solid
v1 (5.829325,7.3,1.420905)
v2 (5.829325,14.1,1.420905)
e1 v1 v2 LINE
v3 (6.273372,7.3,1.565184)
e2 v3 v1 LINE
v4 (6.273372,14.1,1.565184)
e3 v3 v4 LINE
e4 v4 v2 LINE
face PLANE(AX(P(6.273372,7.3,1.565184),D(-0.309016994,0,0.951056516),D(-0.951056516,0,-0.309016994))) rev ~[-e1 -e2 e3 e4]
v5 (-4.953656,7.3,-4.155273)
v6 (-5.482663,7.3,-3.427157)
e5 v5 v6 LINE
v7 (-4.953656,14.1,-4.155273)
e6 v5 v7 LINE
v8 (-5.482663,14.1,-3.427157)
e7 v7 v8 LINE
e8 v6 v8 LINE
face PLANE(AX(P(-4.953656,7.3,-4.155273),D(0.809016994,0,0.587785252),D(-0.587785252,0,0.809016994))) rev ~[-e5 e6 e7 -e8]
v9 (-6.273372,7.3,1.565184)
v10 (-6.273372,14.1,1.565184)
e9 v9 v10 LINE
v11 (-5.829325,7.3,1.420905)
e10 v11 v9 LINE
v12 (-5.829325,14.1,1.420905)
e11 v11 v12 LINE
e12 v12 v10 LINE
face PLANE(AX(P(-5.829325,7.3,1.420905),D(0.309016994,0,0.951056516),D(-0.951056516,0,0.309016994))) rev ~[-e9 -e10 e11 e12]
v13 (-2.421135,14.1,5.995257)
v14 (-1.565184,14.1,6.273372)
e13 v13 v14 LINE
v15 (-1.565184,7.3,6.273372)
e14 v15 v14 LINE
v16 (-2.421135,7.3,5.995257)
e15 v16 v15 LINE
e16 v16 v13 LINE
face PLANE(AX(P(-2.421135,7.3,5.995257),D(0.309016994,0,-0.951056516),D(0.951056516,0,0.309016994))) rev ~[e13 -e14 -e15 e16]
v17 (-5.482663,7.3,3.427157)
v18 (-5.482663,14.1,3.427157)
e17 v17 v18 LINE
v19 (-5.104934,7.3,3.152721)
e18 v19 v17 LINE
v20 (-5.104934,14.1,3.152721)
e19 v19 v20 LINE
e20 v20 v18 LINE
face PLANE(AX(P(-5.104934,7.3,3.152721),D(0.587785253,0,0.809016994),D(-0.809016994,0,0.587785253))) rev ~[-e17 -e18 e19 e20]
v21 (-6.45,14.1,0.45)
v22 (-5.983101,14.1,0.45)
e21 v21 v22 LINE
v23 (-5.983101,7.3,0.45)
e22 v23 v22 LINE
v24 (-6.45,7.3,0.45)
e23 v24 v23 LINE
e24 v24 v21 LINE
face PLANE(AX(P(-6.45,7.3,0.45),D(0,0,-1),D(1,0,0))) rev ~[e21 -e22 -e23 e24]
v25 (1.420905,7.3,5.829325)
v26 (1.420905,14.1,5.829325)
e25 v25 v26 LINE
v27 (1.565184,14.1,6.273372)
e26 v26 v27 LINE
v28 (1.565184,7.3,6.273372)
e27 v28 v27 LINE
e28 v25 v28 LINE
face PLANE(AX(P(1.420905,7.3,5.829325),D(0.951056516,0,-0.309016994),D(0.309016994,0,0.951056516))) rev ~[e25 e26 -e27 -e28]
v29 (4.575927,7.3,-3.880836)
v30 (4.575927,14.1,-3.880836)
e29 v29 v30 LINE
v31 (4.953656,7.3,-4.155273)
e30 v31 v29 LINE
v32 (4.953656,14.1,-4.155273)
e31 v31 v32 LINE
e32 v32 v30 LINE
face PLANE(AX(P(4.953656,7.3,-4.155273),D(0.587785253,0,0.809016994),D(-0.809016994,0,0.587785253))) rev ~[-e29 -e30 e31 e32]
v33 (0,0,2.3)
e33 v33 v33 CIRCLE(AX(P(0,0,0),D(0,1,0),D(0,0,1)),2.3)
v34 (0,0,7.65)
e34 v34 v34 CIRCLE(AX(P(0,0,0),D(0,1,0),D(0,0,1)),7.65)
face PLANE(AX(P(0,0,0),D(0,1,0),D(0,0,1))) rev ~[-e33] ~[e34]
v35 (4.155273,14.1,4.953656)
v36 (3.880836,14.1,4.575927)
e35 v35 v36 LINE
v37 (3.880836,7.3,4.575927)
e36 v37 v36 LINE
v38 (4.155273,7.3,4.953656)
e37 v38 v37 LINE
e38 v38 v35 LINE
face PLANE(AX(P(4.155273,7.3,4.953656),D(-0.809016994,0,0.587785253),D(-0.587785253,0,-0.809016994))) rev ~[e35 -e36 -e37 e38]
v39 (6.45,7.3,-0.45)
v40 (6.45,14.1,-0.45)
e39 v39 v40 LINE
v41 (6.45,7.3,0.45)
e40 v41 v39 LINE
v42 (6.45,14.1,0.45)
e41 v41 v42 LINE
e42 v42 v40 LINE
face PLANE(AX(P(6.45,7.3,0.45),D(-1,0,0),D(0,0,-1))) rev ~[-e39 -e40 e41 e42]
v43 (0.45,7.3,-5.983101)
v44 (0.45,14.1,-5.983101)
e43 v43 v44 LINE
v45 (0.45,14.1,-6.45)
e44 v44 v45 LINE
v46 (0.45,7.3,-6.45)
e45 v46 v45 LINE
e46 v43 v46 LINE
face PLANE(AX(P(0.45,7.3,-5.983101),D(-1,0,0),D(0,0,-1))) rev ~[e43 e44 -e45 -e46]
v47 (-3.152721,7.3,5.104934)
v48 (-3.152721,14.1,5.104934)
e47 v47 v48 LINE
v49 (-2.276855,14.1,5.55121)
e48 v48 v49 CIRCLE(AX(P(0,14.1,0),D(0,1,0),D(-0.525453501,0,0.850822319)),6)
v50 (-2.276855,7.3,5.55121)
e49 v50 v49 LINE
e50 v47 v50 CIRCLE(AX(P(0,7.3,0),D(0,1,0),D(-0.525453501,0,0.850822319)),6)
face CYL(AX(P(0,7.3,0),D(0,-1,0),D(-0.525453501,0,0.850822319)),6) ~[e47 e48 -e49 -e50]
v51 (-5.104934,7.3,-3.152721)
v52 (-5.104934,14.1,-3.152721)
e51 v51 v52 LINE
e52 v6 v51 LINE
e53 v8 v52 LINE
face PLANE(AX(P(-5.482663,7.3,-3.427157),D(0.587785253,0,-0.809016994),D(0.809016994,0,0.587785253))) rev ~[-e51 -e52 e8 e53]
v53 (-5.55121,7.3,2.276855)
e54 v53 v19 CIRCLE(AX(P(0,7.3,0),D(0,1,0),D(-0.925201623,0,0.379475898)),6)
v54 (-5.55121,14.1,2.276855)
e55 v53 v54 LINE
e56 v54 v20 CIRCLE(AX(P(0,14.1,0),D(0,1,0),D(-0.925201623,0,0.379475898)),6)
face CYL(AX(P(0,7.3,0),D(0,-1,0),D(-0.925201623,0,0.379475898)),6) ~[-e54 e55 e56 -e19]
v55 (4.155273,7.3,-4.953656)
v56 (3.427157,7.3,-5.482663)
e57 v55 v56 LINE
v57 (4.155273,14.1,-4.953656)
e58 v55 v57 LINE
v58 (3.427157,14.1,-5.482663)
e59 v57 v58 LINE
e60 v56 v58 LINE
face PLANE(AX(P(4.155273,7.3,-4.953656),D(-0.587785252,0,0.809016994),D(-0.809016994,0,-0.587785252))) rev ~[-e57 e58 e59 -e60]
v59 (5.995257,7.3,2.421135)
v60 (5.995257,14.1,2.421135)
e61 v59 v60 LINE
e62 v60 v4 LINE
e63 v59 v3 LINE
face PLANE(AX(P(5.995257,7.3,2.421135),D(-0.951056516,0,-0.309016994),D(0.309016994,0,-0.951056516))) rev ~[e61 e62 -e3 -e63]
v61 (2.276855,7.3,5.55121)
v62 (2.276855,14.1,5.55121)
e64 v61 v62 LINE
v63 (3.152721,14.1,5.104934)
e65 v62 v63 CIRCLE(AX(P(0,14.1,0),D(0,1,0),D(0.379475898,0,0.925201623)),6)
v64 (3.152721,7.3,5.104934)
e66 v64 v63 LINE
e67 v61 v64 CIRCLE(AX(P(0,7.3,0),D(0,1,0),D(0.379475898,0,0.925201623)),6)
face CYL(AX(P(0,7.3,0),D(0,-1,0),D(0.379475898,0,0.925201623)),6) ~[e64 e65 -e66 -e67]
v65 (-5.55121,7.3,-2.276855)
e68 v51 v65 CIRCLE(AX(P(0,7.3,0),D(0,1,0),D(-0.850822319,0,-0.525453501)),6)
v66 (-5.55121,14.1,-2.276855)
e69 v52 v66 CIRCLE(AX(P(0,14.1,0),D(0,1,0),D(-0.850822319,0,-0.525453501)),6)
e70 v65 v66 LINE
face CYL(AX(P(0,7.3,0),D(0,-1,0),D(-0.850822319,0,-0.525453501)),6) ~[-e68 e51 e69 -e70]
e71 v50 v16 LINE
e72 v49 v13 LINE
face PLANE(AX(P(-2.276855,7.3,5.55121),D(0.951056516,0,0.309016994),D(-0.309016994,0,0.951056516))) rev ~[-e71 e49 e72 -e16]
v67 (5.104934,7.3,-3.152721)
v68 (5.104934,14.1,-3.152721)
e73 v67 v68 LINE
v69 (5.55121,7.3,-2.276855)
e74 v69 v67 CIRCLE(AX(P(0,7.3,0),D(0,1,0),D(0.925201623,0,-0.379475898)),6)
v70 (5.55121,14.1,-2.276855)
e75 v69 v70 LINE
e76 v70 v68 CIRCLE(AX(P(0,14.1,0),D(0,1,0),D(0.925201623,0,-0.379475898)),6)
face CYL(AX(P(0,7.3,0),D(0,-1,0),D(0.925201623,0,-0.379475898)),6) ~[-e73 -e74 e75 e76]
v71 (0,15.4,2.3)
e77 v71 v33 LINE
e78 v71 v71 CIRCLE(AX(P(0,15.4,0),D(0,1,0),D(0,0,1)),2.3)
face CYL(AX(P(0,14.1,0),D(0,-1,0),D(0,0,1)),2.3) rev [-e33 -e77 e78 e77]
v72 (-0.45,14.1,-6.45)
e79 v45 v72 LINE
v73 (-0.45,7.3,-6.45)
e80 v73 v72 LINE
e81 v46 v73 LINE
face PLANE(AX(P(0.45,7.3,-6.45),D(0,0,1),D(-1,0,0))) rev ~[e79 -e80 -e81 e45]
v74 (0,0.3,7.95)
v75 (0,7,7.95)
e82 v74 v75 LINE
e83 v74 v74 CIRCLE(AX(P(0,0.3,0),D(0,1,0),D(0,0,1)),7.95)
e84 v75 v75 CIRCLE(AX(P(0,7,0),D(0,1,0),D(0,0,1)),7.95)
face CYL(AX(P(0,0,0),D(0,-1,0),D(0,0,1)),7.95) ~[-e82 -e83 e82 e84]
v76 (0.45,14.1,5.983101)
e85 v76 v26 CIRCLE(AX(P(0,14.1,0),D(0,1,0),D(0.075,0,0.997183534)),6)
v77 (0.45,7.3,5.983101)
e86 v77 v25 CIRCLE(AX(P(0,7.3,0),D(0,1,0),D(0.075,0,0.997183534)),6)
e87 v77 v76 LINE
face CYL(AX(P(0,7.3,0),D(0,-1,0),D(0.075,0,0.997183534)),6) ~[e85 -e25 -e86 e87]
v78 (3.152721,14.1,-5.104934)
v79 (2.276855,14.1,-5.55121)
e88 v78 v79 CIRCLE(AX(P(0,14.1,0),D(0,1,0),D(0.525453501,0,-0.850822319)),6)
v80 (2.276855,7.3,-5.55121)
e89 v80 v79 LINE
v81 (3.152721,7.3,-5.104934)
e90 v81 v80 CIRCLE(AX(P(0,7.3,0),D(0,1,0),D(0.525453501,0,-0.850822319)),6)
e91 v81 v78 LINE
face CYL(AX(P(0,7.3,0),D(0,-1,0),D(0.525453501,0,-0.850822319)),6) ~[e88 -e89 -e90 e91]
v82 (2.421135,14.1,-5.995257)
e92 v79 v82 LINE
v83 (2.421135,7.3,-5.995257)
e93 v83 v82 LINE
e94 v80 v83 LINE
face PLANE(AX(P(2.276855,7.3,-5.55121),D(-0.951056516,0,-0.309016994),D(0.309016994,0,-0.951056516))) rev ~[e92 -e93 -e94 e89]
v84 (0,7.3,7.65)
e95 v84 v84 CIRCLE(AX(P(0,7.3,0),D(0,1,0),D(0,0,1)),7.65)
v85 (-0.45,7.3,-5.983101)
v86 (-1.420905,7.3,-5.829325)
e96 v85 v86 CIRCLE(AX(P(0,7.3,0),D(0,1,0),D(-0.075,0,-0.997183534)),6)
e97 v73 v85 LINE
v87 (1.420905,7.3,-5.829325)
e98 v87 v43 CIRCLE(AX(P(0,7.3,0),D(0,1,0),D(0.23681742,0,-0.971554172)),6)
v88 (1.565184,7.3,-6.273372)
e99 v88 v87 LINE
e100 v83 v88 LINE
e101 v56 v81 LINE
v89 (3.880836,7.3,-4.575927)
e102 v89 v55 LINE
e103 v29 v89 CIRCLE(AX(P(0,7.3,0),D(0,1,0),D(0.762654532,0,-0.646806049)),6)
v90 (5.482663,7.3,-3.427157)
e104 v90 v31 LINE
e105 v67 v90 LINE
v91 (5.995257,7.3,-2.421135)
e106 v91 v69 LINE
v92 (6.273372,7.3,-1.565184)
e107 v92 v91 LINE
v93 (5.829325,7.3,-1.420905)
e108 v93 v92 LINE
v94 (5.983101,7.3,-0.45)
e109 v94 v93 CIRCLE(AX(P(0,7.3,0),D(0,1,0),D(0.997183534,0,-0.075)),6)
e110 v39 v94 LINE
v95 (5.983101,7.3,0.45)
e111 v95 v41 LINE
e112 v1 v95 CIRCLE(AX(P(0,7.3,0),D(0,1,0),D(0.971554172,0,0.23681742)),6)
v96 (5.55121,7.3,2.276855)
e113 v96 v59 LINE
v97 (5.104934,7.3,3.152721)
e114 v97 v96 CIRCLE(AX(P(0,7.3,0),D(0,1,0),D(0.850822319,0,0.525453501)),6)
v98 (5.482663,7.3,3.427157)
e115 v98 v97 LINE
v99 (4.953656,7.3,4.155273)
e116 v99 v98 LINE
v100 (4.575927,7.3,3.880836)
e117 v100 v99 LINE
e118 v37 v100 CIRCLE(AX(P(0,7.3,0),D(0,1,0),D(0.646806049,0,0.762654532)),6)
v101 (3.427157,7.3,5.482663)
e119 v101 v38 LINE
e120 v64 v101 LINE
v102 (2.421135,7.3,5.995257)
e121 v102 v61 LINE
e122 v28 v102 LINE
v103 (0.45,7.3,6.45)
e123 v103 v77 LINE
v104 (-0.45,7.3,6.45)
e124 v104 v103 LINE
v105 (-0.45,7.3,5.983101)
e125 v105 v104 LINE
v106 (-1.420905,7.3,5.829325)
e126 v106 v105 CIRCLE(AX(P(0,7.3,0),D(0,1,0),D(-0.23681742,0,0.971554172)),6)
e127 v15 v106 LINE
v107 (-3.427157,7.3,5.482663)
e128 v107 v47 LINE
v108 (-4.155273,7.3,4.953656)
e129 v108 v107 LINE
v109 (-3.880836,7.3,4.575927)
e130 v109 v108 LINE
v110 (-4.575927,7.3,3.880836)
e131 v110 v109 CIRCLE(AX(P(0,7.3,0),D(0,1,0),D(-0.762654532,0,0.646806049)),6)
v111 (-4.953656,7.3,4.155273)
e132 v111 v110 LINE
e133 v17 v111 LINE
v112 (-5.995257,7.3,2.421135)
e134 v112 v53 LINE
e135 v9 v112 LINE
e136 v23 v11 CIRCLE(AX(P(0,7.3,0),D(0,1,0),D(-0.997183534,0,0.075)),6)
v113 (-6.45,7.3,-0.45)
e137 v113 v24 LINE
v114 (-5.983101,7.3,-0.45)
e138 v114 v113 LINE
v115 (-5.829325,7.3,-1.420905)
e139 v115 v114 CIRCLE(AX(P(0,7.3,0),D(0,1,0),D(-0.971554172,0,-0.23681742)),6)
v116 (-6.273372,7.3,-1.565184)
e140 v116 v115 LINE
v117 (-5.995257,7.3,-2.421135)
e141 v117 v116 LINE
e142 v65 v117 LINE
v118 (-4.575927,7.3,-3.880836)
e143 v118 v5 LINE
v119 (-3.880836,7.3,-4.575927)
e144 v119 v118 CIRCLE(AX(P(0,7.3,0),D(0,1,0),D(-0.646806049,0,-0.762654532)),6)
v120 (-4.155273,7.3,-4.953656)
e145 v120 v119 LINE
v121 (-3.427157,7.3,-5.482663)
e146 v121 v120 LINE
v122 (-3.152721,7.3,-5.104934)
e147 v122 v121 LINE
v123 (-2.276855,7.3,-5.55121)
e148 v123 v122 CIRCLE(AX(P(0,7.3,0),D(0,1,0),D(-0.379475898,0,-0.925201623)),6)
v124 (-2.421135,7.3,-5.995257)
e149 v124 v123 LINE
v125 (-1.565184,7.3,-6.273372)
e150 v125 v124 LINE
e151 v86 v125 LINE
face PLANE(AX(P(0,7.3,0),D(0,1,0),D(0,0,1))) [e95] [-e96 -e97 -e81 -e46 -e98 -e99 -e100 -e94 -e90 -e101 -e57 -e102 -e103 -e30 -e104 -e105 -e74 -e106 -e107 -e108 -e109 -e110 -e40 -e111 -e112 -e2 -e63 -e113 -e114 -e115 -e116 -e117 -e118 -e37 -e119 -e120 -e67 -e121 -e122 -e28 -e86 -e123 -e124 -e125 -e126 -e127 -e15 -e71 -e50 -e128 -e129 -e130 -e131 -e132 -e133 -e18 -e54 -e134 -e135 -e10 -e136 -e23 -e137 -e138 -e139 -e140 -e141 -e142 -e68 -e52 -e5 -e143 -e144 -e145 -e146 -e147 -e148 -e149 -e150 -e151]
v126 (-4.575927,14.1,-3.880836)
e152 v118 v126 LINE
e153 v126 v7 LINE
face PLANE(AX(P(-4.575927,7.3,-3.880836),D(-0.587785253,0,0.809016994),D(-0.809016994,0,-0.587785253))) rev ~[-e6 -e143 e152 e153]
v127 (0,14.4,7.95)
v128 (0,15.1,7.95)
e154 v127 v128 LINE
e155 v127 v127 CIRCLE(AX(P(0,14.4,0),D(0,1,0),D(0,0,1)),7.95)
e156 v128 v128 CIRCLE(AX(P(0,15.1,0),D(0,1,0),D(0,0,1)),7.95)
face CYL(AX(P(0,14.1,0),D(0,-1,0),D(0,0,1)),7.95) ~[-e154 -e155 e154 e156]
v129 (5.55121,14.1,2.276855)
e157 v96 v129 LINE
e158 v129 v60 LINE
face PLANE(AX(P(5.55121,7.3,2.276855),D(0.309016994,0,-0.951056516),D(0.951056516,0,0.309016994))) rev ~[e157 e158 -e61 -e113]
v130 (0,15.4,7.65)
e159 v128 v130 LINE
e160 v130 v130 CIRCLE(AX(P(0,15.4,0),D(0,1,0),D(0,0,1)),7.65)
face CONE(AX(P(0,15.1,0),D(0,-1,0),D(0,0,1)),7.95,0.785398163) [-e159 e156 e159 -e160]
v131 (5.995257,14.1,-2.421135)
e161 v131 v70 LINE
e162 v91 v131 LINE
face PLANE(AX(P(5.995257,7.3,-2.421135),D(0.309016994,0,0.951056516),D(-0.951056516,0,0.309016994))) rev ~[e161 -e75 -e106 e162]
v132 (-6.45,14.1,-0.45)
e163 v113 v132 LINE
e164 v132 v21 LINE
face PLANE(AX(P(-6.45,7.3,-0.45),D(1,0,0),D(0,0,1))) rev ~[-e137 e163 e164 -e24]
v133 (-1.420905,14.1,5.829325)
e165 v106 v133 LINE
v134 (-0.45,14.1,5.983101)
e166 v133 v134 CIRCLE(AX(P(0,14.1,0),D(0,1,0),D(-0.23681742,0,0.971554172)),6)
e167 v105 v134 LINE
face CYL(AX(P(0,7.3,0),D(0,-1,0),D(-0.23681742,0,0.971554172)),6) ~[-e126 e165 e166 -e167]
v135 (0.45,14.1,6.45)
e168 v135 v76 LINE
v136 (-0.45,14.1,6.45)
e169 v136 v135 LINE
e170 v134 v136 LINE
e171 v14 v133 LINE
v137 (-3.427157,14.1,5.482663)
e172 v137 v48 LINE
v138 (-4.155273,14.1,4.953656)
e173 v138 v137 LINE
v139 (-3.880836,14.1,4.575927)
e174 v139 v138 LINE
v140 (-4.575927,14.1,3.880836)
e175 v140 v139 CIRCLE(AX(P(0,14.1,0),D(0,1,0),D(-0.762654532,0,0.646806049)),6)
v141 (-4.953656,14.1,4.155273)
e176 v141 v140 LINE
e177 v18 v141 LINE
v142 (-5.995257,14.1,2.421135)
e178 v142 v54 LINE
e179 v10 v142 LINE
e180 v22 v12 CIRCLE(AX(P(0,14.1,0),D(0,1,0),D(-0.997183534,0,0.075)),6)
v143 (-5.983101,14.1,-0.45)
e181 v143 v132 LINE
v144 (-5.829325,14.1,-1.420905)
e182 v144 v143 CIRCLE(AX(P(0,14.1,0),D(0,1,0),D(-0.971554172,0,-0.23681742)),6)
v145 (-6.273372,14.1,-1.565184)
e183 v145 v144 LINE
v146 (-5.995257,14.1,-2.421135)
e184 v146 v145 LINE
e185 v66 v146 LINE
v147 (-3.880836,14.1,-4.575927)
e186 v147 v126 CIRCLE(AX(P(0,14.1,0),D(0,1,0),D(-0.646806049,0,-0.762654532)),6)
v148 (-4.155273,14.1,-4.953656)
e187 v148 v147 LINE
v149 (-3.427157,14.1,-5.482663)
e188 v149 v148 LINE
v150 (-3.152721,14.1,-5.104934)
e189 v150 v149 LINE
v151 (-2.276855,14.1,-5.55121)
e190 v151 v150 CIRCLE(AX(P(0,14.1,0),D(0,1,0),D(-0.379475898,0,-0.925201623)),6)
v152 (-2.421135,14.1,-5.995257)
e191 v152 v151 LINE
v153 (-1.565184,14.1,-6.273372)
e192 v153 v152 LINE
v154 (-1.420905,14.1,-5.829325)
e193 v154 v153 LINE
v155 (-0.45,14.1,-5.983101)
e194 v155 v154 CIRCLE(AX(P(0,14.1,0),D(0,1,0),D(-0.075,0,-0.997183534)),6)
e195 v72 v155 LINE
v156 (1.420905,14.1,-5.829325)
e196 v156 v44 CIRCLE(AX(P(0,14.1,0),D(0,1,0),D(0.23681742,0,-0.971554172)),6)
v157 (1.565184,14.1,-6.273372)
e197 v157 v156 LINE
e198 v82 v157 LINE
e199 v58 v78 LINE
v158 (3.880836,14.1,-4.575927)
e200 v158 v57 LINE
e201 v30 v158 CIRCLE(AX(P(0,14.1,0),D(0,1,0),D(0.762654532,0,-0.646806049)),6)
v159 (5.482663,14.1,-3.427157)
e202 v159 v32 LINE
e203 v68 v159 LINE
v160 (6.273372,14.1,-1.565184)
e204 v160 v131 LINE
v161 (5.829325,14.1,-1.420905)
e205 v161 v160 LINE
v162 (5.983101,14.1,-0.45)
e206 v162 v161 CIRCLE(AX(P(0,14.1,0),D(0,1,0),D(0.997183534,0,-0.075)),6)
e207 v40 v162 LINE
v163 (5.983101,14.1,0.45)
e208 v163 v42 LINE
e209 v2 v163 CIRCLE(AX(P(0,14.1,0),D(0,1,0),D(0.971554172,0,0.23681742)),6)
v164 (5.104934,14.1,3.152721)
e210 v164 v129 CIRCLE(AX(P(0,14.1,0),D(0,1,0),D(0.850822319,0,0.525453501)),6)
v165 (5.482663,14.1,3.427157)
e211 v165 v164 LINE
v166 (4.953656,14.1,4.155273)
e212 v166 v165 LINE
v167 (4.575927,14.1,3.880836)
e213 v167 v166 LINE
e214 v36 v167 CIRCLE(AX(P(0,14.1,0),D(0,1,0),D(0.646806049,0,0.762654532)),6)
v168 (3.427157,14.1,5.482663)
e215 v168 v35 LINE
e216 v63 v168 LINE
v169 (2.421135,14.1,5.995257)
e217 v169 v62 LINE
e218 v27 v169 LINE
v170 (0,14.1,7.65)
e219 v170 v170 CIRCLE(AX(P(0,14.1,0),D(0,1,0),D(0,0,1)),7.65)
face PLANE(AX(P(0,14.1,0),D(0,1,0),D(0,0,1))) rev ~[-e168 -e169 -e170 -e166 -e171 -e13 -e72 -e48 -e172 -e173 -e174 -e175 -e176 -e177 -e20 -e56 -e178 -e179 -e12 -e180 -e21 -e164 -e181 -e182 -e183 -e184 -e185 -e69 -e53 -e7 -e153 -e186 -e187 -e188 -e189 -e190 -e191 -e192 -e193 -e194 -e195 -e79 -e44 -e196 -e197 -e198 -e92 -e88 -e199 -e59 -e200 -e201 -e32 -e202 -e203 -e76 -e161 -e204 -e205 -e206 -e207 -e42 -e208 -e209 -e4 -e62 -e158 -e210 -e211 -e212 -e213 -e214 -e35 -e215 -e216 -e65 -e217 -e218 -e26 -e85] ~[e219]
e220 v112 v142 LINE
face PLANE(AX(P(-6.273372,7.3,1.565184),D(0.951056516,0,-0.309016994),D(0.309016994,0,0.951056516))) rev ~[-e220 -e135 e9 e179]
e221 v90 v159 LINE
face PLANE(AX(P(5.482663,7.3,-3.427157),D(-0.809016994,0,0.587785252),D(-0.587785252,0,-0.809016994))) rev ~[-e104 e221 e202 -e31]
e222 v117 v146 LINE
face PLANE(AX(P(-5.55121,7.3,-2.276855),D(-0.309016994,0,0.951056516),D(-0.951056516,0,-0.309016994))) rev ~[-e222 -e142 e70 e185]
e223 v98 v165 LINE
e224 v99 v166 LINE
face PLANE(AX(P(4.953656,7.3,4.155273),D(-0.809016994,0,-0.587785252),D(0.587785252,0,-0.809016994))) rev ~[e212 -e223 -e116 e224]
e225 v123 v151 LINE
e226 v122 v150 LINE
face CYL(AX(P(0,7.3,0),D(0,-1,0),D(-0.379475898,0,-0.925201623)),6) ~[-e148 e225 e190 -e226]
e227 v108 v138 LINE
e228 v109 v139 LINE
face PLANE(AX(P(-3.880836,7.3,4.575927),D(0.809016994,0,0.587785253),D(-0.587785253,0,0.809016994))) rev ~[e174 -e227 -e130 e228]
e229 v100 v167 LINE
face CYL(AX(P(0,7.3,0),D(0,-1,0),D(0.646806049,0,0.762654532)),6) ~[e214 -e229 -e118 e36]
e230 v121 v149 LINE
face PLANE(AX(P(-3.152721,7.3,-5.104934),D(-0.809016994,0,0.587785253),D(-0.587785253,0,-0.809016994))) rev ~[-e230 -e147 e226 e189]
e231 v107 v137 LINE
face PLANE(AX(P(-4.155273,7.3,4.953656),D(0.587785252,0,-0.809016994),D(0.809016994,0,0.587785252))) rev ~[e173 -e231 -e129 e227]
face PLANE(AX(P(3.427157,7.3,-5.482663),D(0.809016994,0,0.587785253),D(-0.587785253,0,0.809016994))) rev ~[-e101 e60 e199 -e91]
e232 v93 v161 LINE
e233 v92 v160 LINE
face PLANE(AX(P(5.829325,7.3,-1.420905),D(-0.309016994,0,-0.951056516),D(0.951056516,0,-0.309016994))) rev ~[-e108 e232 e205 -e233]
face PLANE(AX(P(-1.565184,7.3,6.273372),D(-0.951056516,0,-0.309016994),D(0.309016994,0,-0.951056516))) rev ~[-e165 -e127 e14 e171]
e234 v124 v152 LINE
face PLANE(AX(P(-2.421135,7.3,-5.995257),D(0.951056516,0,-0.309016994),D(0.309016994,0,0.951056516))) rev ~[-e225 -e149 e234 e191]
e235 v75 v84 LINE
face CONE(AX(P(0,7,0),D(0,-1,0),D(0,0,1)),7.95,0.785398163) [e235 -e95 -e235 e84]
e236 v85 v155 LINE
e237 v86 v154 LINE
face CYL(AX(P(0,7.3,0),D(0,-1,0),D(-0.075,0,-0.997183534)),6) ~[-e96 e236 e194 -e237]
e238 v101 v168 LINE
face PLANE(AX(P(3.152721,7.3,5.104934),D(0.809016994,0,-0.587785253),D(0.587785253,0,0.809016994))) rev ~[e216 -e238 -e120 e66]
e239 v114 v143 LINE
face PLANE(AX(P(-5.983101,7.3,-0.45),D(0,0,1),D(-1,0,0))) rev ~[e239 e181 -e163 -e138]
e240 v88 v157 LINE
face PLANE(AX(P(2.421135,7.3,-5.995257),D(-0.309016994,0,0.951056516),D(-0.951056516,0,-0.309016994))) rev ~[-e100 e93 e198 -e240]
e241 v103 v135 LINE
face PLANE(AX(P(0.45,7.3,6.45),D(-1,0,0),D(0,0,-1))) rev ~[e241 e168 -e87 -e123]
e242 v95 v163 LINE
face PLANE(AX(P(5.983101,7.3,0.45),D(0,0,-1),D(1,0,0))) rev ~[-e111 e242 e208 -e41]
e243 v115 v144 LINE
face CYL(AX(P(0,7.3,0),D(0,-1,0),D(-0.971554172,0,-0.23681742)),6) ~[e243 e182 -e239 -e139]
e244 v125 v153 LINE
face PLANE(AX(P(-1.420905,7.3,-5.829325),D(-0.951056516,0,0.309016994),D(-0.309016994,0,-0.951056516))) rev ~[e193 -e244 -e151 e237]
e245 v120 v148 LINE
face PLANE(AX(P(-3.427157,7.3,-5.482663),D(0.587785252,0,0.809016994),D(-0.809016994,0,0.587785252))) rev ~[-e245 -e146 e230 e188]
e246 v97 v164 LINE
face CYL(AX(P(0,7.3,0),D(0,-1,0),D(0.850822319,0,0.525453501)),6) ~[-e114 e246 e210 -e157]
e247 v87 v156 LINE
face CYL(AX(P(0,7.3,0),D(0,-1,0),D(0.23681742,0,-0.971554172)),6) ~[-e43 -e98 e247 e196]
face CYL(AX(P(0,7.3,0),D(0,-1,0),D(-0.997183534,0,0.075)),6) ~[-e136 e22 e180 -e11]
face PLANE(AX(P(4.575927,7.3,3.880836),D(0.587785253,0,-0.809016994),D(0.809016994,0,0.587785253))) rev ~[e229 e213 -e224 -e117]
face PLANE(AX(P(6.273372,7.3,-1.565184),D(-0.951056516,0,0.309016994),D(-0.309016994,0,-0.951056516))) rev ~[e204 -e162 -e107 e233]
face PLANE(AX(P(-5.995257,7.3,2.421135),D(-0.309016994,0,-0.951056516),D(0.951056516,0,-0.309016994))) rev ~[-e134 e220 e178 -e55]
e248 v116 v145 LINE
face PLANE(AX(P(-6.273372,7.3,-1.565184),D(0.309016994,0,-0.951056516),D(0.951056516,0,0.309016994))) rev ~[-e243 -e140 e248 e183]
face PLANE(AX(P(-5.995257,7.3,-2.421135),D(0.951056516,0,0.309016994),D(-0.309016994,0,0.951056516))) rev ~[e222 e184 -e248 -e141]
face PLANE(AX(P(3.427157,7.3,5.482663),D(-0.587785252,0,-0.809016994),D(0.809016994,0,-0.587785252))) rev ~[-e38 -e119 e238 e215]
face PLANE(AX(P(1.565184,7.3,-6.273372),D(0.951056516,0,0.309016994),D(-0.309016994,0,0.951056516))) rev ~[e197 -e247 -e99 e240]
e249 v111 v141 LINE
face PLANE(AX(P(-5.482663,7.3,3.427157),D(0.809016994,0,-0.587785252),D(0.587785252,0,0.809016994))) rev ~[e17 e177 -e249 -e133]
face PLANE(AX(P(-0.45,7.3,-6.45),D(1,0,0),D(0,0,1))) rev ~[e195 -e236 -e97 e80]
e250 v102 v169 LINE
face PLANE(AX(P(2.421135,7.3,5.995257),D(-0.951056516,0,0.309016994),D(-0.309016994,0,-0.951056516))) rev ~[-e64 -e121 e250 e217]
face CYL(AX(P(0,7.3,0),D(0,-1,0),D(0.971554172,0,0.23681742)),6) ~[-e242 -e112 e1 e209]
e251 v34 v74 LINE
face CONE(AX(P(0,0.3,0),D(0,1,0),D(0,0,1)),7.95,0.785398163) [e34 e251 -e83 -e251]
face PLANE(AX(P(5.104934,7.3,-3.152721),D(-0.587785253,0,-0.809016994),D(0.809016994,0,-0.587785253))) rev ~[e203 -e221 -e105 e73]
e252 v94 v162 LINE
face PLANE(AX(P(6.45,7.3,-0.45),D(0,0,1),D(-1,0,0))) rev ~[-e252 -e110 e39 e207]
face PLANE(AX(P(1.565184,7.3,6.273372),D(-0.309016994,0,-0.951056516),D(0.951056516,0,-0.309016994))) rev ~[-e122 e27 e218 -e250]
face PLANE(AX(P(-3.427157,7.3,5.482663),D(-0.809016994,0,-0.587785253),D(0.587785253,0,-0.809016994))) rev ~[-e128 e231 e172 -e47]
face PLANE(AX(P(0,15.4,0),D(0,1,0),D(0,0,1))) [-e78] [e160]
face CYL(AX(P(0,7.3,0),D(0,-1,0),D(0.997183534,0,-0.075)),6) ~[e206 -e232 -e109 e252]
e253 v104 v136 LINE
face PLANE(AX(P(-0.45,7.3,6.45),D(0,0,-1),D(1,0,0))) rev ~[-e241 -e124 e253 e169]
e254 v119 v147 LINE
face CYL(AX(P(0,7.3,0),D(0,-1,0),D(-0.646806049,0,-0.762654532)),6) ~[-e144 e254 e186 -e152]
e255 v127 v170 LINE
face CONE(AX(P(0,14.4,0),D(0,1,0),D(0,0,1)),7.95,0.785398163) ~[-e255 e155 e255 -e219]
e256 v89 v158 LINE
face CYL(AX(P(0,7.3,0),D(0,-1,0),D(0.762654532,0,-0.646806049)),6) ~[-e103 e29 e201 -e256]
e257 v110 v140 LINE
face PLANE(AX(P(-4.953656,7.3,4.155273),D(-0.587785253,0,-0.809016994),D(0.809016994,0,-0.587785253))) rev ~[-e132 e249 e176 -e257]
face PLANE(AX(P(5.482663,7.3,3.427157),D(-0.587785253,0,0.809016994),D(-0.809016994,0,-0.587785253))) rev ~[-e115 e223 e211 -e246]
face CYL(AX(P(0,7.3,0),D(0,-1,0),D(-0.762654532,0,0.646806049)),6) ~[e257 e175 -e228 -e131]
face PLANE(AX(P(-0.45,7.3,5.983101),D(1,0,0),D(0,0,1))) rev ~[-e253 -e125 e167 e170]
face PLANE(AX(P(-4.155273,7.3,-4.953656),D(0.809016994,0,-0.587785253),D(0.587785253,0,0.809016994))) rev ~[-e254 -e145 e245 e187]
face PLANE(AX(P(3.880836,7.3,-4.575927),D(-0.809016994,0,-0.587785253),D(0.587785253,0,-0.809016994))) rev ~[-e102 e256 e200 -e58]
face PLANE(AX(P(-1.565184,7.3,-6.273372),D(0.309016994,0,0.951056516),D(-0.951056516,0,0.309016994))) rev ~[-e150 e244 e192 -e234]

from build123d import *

# Parameters (mm, degrees)
SKETCH1_R           = 7.95
SKETCH1_R_2         = 2.3
BOSS_EXTRUDE1_DEPTH = 7.3
SKETCH2_R           = 2.3
BOSS_EXTRUDE2_DEPTH = 6.8
SKETCH3_R           = 7.95
SKETCH3_R_2         = 2.3
BOSS_EXTRUDE3_DEPTH = 1.3
CHAMFER1_SIZE       = 0.3


with BuildPart() as part:
    # Sketch1 → Boss-Extrude1 (new body)
    with BuildSketch(Plane(origin=(0, 0, 0), x_dir=(1, 0, 0), z_dir=(0, 1, 0))):
        with Locations(Location((0, 0, 0), (0, 0, 270))):
            Circle(SKETCH1_R)
        with Locations(Location((0, 0, 0), (0, 0, 270))):
            Circle(SKETCH1_R_2, mode=Mode.SUBTRACT)
    extrude(amount=BOSS_EXTRUDE1_DEPTH)

    # Sketch2 → Boss-Extrude2 (add)
    with BuildSketch(Plane(origin=(0, 7.3, 0), x_dir=(1, 0, 0), z_dir=(0, 1, 0))):
        with BuildLine():
            Line((1.565184181, 6.273372178), (1.420904518, 5.829325034))
            ThreePointArc((1.420904518, 5.829325034), (0.93860679, 5.926130044), (0.45, 5.983101203))
            Line((0.45, 5.983101203), (0.45, 6.45))
            Line((0.45, 6.45), (-0.45, 6.45))
            Line((-0.45, 6.45), (-0.45, 5.983101203))
            ThreePointArc((-0.45, 5.983101203), (-0.93860679, 5.926130044), (-1.420904518, 5.829325034))
            Line((-1.420904518, 5.829325034), (-1.565184181, 6.273372178))
            Line((-1.565184181, 6.273372178), (-2.421135046, 5.995256883))
            Line((-2.421135046, 5.995256883), (-2.276855383, 5.551209739))
            ThreePointArc((-2.276855383, 5.551209739), (-2.723942998, 5.346039145), (-3.152721002, 5.104933915))
            Line((-3.152721002, 5.104933915), (-3.42715723, 5.482662977))
            Line((-3.42715723, 5.482662977), (-4.155272525, 4.95365625))
            Line((-4.155272525, 4.95365625), (-3.880836297, 4.575927188))
            ThreePointArc((-3.880836297, 4.575927188), (-4.242640687, 4.242640687), (-4.575927188, 3.880836297))
            Line((-4.575927188, 3.880836297), (-4.95365625, 4.155272525))
            Line((-4.95365625, 4.155272525), (-5.482662977, 3.42715723))
            Line((-5.482662977, 3.42715723), (-5.104933915, 3.152721002))
            ThreePointArc((-5.104933915, 3.152721002), (-5.346039145, 2.723942998), (-5.551209739, 2.276855383))
            Line((-5.551209739, 2.276855383), (-5.995256883, 2.421135046))
            Line((-5.995256883, 2.421135046), (-6.273372178, 1.565184181))
            Line((-6.273372178, 1.565184181), (-5.829325034, 1.420904518))
            ThreePointArc((-5.829325034, 1.420904518), (-5.926130044, 0.93860679), (-5.983101203, 0.45))
            Line((-5.983101203, 0.45), (-6.45, 0.45))
            Line((-6.45, 0.45), (-6.45, -0.45))
            Line((-6.45, -0.45), (-5.983101203, -0.45))
            ThreePointArc((-5.983101203, -0.45), (-5.926130044, -0.93860679), (-5.829325034, -1.420904518))
            Line((-5.829325034, -1.420904518), (-6.273372178, -1.565184181))
            Line((-6.273372178, -1.565184181), (-5.995256883, -2.421135046))
            Line((-5.995256883, -2.421135046), (-5.551209739, -2.276855383))
            ThreePointArc((-5.551209739, -2.276855383), (-5.346039145, -2.723942998), (-5.104933915, -3.152721002))
            Line((-5.104933915, -3.152721002), (-5.482662977, -3.42715723))
            Line((-5.482662977, -3.42715723), (-4.95365625, -4.155272525))
            Line((-4.95365625, -4.155272525), (-4.575927188, -3.880836297))
            ThreePointArc((-4.575927188, -3.880836297), (-4.242640687, -4.242640687), (-3.880836297, -4.575927188))
            Line((-3.880836297, -4.575927188), (-4.155272525, -4.95365625))
            Line((-4.155272525, -4.95365625), (-3.42715723, -5.482662977))
            Line((-3.42715723, -5.482662977), (-3.152721002, -5.104933915))
            ThreePointArc((-3.152721002, -5.104933915), (-2.723942998, -5.346039145), (-2.276855383, -5.551209739))
            Line((-2.276855383, -5.551209739), (-2.421135046, -5.995256883))
            Line((-2.421135046, -5.995256883), (-1.565184181, -6.273372178))
            Line((-1.565184181, -6.273372178), (-1.420904518, -5.829325034))
            ThreePointArc((-1.420904518, -5.829325034), (-0.93860679, -5.926130044), (-0.45, -5.983101203))
            Line((-0.45, -5.983101203), (-0.45, -6.45))
            Line((-0.45, -6.45), (0.45, -6.45))
            Line((0.45, -6.45), (0.45, -5.983101203))
            ThreePointArc((0.45, -5.983101203), (0.93860679, -5.926130044), (1.420904518, -5.829325034))
            Line((1.420904518, -5.829325034), (1.565184181, -6.273372178))
            Line((1.565184181, -6.273372178), (2.421135046, -5.995256883))
            Line((2.421135046, -5.995256883), (2.276855383, -5.551209739))
            ThreePointArc((2.276855383, -5.551209739), (2.723942998, -5.346039145), (3.152721002, -5.104933915))
            Line((3.152721002, -5.104933915), (3.42715723, -5.482662977))
            Line((3.42715723, -5.482662977), (4.155272525, -4.95365625))
            Line((4.155272525, -4.95365625), (3.880836297, -4.575927188))
            ThreePointArc((3.880836297, -4.575927188), (4.242640687, -4.242640687), (4.575927188, -3.880836297))
            Line((4.575927188, -3.880836297), (4.95365625, -4.155272525))
            Line((4.95365625, -4.155272525), (5.482662977, -3.42715723))
            Line((5.482662977, -3.42715723), (5.104933915, -3.152721002))
            ThreePointArc((5.104933915, -3.152721002), (5.346039145, -2.723942998), (5.551209739, -2.276855383))
            Line((5.551209739, -2.276855383), (5.995256883, -2.421135046))
            Line((5.995256883, -2.421135046), (6.273372178, -1.565184181))
            Line((6.273372178, -1.565184181), (5.829325034, -1.420904518))
            ThreePointArc((5.829325034, -1.420904518), (5.926130044, -0.93860679), (5.983101203, -0.45))
            Line((5.983101203, -0.45), (6.45, -0.45))
            Line((6.45, -0.45), (6.45, 0.45))
            Line((6.45, 0.45), (5.983101203, 0.45))
            ThreePointArc((5.983101203, 0.45), (5.926130044, 0.93860679), (5.829325034, 1.420904518))
            Line((5.829325034, 1.420904518), (6.273372178, 1.565184181))
            Line((6.273372178, 1.565184181), (5.995256883, 2.421135046))
            Line((5.995256883, 2.421135046), (5.551209739, 2.276855383))
            ThreePointArc((5.551209739, 2.276855383), (5.346039145, 2.723942998), (5.104933915, 3.152721002))
            Line((5.104933915, 3.152721002), (5.482662977, 3.42715723))
            Line((5.482662977, 3.42715723), (4.95365625, 4.155272525))
            Line((4.95365625, 4.155272525), (4.575927188, 3.880836297))
            ThreePointArc((4.575927188, 3.880836297), (4.242640687, 4.242640687), (3.880836297, 4.575927188))
            Line((3.880836297, 4.575927188), (4.155272525, 4.95365625))
            Line((4.155272525, 4.95365625), (3.42715723, 5.482662977))
            Line((3.42715723, 5.482662977), (3.152721002, 5.104933915))
            ThreePointArc((3.152721002, 5.104933915), (2.723942998, 5.346039145), (2.276855383, 5.551209739))
            Line((2.276855383, 5.551209739), (2.421135046, 5.995256883))
            Line((2.421135046, 5.995256883), (1.565184181, 6.273372178))
        make_face()
        with Locations(Location((0, 0, 0), (0, 0, 270))):
            Circle(SKETCH2_R, mode=Mode.SUBTRACT)
    extrude(amount=BOSS_EXTRUDE2_DEPTH)

    # Sketch3 → Boss-Extrude3 (add)
    with BuildSketch(Plane(origin=(0, 14.1, 0), x_dir=(1, 0, 0), z_dir=(0, 1, 0))):
        with Locations(Location((0, 0, 0), (0, 0, 270))):
            Circle(SKETCH3_R)
        with Locations(Location((0, 0, 0), (0, 0, 270))):
            Circle(SKETCH3_R_2, mode=Mode.SUBTRACT)
    extrude(amount=BOSS_EXTRUDE3_DEPTH)

    # Chamfer1
    chamfer1_edges = [part.edges().sort_by_distance(p)[0] for p in [
        (0, 0, -7.95),
        (0, 15.4, -7.95),
        (0, 14.1, -7.95),
        (0, 7.3, -7.95),
    ]]
    chamfer(chamfer1_edges, length=CHAMFER1_SIZE)


solid = part.part
